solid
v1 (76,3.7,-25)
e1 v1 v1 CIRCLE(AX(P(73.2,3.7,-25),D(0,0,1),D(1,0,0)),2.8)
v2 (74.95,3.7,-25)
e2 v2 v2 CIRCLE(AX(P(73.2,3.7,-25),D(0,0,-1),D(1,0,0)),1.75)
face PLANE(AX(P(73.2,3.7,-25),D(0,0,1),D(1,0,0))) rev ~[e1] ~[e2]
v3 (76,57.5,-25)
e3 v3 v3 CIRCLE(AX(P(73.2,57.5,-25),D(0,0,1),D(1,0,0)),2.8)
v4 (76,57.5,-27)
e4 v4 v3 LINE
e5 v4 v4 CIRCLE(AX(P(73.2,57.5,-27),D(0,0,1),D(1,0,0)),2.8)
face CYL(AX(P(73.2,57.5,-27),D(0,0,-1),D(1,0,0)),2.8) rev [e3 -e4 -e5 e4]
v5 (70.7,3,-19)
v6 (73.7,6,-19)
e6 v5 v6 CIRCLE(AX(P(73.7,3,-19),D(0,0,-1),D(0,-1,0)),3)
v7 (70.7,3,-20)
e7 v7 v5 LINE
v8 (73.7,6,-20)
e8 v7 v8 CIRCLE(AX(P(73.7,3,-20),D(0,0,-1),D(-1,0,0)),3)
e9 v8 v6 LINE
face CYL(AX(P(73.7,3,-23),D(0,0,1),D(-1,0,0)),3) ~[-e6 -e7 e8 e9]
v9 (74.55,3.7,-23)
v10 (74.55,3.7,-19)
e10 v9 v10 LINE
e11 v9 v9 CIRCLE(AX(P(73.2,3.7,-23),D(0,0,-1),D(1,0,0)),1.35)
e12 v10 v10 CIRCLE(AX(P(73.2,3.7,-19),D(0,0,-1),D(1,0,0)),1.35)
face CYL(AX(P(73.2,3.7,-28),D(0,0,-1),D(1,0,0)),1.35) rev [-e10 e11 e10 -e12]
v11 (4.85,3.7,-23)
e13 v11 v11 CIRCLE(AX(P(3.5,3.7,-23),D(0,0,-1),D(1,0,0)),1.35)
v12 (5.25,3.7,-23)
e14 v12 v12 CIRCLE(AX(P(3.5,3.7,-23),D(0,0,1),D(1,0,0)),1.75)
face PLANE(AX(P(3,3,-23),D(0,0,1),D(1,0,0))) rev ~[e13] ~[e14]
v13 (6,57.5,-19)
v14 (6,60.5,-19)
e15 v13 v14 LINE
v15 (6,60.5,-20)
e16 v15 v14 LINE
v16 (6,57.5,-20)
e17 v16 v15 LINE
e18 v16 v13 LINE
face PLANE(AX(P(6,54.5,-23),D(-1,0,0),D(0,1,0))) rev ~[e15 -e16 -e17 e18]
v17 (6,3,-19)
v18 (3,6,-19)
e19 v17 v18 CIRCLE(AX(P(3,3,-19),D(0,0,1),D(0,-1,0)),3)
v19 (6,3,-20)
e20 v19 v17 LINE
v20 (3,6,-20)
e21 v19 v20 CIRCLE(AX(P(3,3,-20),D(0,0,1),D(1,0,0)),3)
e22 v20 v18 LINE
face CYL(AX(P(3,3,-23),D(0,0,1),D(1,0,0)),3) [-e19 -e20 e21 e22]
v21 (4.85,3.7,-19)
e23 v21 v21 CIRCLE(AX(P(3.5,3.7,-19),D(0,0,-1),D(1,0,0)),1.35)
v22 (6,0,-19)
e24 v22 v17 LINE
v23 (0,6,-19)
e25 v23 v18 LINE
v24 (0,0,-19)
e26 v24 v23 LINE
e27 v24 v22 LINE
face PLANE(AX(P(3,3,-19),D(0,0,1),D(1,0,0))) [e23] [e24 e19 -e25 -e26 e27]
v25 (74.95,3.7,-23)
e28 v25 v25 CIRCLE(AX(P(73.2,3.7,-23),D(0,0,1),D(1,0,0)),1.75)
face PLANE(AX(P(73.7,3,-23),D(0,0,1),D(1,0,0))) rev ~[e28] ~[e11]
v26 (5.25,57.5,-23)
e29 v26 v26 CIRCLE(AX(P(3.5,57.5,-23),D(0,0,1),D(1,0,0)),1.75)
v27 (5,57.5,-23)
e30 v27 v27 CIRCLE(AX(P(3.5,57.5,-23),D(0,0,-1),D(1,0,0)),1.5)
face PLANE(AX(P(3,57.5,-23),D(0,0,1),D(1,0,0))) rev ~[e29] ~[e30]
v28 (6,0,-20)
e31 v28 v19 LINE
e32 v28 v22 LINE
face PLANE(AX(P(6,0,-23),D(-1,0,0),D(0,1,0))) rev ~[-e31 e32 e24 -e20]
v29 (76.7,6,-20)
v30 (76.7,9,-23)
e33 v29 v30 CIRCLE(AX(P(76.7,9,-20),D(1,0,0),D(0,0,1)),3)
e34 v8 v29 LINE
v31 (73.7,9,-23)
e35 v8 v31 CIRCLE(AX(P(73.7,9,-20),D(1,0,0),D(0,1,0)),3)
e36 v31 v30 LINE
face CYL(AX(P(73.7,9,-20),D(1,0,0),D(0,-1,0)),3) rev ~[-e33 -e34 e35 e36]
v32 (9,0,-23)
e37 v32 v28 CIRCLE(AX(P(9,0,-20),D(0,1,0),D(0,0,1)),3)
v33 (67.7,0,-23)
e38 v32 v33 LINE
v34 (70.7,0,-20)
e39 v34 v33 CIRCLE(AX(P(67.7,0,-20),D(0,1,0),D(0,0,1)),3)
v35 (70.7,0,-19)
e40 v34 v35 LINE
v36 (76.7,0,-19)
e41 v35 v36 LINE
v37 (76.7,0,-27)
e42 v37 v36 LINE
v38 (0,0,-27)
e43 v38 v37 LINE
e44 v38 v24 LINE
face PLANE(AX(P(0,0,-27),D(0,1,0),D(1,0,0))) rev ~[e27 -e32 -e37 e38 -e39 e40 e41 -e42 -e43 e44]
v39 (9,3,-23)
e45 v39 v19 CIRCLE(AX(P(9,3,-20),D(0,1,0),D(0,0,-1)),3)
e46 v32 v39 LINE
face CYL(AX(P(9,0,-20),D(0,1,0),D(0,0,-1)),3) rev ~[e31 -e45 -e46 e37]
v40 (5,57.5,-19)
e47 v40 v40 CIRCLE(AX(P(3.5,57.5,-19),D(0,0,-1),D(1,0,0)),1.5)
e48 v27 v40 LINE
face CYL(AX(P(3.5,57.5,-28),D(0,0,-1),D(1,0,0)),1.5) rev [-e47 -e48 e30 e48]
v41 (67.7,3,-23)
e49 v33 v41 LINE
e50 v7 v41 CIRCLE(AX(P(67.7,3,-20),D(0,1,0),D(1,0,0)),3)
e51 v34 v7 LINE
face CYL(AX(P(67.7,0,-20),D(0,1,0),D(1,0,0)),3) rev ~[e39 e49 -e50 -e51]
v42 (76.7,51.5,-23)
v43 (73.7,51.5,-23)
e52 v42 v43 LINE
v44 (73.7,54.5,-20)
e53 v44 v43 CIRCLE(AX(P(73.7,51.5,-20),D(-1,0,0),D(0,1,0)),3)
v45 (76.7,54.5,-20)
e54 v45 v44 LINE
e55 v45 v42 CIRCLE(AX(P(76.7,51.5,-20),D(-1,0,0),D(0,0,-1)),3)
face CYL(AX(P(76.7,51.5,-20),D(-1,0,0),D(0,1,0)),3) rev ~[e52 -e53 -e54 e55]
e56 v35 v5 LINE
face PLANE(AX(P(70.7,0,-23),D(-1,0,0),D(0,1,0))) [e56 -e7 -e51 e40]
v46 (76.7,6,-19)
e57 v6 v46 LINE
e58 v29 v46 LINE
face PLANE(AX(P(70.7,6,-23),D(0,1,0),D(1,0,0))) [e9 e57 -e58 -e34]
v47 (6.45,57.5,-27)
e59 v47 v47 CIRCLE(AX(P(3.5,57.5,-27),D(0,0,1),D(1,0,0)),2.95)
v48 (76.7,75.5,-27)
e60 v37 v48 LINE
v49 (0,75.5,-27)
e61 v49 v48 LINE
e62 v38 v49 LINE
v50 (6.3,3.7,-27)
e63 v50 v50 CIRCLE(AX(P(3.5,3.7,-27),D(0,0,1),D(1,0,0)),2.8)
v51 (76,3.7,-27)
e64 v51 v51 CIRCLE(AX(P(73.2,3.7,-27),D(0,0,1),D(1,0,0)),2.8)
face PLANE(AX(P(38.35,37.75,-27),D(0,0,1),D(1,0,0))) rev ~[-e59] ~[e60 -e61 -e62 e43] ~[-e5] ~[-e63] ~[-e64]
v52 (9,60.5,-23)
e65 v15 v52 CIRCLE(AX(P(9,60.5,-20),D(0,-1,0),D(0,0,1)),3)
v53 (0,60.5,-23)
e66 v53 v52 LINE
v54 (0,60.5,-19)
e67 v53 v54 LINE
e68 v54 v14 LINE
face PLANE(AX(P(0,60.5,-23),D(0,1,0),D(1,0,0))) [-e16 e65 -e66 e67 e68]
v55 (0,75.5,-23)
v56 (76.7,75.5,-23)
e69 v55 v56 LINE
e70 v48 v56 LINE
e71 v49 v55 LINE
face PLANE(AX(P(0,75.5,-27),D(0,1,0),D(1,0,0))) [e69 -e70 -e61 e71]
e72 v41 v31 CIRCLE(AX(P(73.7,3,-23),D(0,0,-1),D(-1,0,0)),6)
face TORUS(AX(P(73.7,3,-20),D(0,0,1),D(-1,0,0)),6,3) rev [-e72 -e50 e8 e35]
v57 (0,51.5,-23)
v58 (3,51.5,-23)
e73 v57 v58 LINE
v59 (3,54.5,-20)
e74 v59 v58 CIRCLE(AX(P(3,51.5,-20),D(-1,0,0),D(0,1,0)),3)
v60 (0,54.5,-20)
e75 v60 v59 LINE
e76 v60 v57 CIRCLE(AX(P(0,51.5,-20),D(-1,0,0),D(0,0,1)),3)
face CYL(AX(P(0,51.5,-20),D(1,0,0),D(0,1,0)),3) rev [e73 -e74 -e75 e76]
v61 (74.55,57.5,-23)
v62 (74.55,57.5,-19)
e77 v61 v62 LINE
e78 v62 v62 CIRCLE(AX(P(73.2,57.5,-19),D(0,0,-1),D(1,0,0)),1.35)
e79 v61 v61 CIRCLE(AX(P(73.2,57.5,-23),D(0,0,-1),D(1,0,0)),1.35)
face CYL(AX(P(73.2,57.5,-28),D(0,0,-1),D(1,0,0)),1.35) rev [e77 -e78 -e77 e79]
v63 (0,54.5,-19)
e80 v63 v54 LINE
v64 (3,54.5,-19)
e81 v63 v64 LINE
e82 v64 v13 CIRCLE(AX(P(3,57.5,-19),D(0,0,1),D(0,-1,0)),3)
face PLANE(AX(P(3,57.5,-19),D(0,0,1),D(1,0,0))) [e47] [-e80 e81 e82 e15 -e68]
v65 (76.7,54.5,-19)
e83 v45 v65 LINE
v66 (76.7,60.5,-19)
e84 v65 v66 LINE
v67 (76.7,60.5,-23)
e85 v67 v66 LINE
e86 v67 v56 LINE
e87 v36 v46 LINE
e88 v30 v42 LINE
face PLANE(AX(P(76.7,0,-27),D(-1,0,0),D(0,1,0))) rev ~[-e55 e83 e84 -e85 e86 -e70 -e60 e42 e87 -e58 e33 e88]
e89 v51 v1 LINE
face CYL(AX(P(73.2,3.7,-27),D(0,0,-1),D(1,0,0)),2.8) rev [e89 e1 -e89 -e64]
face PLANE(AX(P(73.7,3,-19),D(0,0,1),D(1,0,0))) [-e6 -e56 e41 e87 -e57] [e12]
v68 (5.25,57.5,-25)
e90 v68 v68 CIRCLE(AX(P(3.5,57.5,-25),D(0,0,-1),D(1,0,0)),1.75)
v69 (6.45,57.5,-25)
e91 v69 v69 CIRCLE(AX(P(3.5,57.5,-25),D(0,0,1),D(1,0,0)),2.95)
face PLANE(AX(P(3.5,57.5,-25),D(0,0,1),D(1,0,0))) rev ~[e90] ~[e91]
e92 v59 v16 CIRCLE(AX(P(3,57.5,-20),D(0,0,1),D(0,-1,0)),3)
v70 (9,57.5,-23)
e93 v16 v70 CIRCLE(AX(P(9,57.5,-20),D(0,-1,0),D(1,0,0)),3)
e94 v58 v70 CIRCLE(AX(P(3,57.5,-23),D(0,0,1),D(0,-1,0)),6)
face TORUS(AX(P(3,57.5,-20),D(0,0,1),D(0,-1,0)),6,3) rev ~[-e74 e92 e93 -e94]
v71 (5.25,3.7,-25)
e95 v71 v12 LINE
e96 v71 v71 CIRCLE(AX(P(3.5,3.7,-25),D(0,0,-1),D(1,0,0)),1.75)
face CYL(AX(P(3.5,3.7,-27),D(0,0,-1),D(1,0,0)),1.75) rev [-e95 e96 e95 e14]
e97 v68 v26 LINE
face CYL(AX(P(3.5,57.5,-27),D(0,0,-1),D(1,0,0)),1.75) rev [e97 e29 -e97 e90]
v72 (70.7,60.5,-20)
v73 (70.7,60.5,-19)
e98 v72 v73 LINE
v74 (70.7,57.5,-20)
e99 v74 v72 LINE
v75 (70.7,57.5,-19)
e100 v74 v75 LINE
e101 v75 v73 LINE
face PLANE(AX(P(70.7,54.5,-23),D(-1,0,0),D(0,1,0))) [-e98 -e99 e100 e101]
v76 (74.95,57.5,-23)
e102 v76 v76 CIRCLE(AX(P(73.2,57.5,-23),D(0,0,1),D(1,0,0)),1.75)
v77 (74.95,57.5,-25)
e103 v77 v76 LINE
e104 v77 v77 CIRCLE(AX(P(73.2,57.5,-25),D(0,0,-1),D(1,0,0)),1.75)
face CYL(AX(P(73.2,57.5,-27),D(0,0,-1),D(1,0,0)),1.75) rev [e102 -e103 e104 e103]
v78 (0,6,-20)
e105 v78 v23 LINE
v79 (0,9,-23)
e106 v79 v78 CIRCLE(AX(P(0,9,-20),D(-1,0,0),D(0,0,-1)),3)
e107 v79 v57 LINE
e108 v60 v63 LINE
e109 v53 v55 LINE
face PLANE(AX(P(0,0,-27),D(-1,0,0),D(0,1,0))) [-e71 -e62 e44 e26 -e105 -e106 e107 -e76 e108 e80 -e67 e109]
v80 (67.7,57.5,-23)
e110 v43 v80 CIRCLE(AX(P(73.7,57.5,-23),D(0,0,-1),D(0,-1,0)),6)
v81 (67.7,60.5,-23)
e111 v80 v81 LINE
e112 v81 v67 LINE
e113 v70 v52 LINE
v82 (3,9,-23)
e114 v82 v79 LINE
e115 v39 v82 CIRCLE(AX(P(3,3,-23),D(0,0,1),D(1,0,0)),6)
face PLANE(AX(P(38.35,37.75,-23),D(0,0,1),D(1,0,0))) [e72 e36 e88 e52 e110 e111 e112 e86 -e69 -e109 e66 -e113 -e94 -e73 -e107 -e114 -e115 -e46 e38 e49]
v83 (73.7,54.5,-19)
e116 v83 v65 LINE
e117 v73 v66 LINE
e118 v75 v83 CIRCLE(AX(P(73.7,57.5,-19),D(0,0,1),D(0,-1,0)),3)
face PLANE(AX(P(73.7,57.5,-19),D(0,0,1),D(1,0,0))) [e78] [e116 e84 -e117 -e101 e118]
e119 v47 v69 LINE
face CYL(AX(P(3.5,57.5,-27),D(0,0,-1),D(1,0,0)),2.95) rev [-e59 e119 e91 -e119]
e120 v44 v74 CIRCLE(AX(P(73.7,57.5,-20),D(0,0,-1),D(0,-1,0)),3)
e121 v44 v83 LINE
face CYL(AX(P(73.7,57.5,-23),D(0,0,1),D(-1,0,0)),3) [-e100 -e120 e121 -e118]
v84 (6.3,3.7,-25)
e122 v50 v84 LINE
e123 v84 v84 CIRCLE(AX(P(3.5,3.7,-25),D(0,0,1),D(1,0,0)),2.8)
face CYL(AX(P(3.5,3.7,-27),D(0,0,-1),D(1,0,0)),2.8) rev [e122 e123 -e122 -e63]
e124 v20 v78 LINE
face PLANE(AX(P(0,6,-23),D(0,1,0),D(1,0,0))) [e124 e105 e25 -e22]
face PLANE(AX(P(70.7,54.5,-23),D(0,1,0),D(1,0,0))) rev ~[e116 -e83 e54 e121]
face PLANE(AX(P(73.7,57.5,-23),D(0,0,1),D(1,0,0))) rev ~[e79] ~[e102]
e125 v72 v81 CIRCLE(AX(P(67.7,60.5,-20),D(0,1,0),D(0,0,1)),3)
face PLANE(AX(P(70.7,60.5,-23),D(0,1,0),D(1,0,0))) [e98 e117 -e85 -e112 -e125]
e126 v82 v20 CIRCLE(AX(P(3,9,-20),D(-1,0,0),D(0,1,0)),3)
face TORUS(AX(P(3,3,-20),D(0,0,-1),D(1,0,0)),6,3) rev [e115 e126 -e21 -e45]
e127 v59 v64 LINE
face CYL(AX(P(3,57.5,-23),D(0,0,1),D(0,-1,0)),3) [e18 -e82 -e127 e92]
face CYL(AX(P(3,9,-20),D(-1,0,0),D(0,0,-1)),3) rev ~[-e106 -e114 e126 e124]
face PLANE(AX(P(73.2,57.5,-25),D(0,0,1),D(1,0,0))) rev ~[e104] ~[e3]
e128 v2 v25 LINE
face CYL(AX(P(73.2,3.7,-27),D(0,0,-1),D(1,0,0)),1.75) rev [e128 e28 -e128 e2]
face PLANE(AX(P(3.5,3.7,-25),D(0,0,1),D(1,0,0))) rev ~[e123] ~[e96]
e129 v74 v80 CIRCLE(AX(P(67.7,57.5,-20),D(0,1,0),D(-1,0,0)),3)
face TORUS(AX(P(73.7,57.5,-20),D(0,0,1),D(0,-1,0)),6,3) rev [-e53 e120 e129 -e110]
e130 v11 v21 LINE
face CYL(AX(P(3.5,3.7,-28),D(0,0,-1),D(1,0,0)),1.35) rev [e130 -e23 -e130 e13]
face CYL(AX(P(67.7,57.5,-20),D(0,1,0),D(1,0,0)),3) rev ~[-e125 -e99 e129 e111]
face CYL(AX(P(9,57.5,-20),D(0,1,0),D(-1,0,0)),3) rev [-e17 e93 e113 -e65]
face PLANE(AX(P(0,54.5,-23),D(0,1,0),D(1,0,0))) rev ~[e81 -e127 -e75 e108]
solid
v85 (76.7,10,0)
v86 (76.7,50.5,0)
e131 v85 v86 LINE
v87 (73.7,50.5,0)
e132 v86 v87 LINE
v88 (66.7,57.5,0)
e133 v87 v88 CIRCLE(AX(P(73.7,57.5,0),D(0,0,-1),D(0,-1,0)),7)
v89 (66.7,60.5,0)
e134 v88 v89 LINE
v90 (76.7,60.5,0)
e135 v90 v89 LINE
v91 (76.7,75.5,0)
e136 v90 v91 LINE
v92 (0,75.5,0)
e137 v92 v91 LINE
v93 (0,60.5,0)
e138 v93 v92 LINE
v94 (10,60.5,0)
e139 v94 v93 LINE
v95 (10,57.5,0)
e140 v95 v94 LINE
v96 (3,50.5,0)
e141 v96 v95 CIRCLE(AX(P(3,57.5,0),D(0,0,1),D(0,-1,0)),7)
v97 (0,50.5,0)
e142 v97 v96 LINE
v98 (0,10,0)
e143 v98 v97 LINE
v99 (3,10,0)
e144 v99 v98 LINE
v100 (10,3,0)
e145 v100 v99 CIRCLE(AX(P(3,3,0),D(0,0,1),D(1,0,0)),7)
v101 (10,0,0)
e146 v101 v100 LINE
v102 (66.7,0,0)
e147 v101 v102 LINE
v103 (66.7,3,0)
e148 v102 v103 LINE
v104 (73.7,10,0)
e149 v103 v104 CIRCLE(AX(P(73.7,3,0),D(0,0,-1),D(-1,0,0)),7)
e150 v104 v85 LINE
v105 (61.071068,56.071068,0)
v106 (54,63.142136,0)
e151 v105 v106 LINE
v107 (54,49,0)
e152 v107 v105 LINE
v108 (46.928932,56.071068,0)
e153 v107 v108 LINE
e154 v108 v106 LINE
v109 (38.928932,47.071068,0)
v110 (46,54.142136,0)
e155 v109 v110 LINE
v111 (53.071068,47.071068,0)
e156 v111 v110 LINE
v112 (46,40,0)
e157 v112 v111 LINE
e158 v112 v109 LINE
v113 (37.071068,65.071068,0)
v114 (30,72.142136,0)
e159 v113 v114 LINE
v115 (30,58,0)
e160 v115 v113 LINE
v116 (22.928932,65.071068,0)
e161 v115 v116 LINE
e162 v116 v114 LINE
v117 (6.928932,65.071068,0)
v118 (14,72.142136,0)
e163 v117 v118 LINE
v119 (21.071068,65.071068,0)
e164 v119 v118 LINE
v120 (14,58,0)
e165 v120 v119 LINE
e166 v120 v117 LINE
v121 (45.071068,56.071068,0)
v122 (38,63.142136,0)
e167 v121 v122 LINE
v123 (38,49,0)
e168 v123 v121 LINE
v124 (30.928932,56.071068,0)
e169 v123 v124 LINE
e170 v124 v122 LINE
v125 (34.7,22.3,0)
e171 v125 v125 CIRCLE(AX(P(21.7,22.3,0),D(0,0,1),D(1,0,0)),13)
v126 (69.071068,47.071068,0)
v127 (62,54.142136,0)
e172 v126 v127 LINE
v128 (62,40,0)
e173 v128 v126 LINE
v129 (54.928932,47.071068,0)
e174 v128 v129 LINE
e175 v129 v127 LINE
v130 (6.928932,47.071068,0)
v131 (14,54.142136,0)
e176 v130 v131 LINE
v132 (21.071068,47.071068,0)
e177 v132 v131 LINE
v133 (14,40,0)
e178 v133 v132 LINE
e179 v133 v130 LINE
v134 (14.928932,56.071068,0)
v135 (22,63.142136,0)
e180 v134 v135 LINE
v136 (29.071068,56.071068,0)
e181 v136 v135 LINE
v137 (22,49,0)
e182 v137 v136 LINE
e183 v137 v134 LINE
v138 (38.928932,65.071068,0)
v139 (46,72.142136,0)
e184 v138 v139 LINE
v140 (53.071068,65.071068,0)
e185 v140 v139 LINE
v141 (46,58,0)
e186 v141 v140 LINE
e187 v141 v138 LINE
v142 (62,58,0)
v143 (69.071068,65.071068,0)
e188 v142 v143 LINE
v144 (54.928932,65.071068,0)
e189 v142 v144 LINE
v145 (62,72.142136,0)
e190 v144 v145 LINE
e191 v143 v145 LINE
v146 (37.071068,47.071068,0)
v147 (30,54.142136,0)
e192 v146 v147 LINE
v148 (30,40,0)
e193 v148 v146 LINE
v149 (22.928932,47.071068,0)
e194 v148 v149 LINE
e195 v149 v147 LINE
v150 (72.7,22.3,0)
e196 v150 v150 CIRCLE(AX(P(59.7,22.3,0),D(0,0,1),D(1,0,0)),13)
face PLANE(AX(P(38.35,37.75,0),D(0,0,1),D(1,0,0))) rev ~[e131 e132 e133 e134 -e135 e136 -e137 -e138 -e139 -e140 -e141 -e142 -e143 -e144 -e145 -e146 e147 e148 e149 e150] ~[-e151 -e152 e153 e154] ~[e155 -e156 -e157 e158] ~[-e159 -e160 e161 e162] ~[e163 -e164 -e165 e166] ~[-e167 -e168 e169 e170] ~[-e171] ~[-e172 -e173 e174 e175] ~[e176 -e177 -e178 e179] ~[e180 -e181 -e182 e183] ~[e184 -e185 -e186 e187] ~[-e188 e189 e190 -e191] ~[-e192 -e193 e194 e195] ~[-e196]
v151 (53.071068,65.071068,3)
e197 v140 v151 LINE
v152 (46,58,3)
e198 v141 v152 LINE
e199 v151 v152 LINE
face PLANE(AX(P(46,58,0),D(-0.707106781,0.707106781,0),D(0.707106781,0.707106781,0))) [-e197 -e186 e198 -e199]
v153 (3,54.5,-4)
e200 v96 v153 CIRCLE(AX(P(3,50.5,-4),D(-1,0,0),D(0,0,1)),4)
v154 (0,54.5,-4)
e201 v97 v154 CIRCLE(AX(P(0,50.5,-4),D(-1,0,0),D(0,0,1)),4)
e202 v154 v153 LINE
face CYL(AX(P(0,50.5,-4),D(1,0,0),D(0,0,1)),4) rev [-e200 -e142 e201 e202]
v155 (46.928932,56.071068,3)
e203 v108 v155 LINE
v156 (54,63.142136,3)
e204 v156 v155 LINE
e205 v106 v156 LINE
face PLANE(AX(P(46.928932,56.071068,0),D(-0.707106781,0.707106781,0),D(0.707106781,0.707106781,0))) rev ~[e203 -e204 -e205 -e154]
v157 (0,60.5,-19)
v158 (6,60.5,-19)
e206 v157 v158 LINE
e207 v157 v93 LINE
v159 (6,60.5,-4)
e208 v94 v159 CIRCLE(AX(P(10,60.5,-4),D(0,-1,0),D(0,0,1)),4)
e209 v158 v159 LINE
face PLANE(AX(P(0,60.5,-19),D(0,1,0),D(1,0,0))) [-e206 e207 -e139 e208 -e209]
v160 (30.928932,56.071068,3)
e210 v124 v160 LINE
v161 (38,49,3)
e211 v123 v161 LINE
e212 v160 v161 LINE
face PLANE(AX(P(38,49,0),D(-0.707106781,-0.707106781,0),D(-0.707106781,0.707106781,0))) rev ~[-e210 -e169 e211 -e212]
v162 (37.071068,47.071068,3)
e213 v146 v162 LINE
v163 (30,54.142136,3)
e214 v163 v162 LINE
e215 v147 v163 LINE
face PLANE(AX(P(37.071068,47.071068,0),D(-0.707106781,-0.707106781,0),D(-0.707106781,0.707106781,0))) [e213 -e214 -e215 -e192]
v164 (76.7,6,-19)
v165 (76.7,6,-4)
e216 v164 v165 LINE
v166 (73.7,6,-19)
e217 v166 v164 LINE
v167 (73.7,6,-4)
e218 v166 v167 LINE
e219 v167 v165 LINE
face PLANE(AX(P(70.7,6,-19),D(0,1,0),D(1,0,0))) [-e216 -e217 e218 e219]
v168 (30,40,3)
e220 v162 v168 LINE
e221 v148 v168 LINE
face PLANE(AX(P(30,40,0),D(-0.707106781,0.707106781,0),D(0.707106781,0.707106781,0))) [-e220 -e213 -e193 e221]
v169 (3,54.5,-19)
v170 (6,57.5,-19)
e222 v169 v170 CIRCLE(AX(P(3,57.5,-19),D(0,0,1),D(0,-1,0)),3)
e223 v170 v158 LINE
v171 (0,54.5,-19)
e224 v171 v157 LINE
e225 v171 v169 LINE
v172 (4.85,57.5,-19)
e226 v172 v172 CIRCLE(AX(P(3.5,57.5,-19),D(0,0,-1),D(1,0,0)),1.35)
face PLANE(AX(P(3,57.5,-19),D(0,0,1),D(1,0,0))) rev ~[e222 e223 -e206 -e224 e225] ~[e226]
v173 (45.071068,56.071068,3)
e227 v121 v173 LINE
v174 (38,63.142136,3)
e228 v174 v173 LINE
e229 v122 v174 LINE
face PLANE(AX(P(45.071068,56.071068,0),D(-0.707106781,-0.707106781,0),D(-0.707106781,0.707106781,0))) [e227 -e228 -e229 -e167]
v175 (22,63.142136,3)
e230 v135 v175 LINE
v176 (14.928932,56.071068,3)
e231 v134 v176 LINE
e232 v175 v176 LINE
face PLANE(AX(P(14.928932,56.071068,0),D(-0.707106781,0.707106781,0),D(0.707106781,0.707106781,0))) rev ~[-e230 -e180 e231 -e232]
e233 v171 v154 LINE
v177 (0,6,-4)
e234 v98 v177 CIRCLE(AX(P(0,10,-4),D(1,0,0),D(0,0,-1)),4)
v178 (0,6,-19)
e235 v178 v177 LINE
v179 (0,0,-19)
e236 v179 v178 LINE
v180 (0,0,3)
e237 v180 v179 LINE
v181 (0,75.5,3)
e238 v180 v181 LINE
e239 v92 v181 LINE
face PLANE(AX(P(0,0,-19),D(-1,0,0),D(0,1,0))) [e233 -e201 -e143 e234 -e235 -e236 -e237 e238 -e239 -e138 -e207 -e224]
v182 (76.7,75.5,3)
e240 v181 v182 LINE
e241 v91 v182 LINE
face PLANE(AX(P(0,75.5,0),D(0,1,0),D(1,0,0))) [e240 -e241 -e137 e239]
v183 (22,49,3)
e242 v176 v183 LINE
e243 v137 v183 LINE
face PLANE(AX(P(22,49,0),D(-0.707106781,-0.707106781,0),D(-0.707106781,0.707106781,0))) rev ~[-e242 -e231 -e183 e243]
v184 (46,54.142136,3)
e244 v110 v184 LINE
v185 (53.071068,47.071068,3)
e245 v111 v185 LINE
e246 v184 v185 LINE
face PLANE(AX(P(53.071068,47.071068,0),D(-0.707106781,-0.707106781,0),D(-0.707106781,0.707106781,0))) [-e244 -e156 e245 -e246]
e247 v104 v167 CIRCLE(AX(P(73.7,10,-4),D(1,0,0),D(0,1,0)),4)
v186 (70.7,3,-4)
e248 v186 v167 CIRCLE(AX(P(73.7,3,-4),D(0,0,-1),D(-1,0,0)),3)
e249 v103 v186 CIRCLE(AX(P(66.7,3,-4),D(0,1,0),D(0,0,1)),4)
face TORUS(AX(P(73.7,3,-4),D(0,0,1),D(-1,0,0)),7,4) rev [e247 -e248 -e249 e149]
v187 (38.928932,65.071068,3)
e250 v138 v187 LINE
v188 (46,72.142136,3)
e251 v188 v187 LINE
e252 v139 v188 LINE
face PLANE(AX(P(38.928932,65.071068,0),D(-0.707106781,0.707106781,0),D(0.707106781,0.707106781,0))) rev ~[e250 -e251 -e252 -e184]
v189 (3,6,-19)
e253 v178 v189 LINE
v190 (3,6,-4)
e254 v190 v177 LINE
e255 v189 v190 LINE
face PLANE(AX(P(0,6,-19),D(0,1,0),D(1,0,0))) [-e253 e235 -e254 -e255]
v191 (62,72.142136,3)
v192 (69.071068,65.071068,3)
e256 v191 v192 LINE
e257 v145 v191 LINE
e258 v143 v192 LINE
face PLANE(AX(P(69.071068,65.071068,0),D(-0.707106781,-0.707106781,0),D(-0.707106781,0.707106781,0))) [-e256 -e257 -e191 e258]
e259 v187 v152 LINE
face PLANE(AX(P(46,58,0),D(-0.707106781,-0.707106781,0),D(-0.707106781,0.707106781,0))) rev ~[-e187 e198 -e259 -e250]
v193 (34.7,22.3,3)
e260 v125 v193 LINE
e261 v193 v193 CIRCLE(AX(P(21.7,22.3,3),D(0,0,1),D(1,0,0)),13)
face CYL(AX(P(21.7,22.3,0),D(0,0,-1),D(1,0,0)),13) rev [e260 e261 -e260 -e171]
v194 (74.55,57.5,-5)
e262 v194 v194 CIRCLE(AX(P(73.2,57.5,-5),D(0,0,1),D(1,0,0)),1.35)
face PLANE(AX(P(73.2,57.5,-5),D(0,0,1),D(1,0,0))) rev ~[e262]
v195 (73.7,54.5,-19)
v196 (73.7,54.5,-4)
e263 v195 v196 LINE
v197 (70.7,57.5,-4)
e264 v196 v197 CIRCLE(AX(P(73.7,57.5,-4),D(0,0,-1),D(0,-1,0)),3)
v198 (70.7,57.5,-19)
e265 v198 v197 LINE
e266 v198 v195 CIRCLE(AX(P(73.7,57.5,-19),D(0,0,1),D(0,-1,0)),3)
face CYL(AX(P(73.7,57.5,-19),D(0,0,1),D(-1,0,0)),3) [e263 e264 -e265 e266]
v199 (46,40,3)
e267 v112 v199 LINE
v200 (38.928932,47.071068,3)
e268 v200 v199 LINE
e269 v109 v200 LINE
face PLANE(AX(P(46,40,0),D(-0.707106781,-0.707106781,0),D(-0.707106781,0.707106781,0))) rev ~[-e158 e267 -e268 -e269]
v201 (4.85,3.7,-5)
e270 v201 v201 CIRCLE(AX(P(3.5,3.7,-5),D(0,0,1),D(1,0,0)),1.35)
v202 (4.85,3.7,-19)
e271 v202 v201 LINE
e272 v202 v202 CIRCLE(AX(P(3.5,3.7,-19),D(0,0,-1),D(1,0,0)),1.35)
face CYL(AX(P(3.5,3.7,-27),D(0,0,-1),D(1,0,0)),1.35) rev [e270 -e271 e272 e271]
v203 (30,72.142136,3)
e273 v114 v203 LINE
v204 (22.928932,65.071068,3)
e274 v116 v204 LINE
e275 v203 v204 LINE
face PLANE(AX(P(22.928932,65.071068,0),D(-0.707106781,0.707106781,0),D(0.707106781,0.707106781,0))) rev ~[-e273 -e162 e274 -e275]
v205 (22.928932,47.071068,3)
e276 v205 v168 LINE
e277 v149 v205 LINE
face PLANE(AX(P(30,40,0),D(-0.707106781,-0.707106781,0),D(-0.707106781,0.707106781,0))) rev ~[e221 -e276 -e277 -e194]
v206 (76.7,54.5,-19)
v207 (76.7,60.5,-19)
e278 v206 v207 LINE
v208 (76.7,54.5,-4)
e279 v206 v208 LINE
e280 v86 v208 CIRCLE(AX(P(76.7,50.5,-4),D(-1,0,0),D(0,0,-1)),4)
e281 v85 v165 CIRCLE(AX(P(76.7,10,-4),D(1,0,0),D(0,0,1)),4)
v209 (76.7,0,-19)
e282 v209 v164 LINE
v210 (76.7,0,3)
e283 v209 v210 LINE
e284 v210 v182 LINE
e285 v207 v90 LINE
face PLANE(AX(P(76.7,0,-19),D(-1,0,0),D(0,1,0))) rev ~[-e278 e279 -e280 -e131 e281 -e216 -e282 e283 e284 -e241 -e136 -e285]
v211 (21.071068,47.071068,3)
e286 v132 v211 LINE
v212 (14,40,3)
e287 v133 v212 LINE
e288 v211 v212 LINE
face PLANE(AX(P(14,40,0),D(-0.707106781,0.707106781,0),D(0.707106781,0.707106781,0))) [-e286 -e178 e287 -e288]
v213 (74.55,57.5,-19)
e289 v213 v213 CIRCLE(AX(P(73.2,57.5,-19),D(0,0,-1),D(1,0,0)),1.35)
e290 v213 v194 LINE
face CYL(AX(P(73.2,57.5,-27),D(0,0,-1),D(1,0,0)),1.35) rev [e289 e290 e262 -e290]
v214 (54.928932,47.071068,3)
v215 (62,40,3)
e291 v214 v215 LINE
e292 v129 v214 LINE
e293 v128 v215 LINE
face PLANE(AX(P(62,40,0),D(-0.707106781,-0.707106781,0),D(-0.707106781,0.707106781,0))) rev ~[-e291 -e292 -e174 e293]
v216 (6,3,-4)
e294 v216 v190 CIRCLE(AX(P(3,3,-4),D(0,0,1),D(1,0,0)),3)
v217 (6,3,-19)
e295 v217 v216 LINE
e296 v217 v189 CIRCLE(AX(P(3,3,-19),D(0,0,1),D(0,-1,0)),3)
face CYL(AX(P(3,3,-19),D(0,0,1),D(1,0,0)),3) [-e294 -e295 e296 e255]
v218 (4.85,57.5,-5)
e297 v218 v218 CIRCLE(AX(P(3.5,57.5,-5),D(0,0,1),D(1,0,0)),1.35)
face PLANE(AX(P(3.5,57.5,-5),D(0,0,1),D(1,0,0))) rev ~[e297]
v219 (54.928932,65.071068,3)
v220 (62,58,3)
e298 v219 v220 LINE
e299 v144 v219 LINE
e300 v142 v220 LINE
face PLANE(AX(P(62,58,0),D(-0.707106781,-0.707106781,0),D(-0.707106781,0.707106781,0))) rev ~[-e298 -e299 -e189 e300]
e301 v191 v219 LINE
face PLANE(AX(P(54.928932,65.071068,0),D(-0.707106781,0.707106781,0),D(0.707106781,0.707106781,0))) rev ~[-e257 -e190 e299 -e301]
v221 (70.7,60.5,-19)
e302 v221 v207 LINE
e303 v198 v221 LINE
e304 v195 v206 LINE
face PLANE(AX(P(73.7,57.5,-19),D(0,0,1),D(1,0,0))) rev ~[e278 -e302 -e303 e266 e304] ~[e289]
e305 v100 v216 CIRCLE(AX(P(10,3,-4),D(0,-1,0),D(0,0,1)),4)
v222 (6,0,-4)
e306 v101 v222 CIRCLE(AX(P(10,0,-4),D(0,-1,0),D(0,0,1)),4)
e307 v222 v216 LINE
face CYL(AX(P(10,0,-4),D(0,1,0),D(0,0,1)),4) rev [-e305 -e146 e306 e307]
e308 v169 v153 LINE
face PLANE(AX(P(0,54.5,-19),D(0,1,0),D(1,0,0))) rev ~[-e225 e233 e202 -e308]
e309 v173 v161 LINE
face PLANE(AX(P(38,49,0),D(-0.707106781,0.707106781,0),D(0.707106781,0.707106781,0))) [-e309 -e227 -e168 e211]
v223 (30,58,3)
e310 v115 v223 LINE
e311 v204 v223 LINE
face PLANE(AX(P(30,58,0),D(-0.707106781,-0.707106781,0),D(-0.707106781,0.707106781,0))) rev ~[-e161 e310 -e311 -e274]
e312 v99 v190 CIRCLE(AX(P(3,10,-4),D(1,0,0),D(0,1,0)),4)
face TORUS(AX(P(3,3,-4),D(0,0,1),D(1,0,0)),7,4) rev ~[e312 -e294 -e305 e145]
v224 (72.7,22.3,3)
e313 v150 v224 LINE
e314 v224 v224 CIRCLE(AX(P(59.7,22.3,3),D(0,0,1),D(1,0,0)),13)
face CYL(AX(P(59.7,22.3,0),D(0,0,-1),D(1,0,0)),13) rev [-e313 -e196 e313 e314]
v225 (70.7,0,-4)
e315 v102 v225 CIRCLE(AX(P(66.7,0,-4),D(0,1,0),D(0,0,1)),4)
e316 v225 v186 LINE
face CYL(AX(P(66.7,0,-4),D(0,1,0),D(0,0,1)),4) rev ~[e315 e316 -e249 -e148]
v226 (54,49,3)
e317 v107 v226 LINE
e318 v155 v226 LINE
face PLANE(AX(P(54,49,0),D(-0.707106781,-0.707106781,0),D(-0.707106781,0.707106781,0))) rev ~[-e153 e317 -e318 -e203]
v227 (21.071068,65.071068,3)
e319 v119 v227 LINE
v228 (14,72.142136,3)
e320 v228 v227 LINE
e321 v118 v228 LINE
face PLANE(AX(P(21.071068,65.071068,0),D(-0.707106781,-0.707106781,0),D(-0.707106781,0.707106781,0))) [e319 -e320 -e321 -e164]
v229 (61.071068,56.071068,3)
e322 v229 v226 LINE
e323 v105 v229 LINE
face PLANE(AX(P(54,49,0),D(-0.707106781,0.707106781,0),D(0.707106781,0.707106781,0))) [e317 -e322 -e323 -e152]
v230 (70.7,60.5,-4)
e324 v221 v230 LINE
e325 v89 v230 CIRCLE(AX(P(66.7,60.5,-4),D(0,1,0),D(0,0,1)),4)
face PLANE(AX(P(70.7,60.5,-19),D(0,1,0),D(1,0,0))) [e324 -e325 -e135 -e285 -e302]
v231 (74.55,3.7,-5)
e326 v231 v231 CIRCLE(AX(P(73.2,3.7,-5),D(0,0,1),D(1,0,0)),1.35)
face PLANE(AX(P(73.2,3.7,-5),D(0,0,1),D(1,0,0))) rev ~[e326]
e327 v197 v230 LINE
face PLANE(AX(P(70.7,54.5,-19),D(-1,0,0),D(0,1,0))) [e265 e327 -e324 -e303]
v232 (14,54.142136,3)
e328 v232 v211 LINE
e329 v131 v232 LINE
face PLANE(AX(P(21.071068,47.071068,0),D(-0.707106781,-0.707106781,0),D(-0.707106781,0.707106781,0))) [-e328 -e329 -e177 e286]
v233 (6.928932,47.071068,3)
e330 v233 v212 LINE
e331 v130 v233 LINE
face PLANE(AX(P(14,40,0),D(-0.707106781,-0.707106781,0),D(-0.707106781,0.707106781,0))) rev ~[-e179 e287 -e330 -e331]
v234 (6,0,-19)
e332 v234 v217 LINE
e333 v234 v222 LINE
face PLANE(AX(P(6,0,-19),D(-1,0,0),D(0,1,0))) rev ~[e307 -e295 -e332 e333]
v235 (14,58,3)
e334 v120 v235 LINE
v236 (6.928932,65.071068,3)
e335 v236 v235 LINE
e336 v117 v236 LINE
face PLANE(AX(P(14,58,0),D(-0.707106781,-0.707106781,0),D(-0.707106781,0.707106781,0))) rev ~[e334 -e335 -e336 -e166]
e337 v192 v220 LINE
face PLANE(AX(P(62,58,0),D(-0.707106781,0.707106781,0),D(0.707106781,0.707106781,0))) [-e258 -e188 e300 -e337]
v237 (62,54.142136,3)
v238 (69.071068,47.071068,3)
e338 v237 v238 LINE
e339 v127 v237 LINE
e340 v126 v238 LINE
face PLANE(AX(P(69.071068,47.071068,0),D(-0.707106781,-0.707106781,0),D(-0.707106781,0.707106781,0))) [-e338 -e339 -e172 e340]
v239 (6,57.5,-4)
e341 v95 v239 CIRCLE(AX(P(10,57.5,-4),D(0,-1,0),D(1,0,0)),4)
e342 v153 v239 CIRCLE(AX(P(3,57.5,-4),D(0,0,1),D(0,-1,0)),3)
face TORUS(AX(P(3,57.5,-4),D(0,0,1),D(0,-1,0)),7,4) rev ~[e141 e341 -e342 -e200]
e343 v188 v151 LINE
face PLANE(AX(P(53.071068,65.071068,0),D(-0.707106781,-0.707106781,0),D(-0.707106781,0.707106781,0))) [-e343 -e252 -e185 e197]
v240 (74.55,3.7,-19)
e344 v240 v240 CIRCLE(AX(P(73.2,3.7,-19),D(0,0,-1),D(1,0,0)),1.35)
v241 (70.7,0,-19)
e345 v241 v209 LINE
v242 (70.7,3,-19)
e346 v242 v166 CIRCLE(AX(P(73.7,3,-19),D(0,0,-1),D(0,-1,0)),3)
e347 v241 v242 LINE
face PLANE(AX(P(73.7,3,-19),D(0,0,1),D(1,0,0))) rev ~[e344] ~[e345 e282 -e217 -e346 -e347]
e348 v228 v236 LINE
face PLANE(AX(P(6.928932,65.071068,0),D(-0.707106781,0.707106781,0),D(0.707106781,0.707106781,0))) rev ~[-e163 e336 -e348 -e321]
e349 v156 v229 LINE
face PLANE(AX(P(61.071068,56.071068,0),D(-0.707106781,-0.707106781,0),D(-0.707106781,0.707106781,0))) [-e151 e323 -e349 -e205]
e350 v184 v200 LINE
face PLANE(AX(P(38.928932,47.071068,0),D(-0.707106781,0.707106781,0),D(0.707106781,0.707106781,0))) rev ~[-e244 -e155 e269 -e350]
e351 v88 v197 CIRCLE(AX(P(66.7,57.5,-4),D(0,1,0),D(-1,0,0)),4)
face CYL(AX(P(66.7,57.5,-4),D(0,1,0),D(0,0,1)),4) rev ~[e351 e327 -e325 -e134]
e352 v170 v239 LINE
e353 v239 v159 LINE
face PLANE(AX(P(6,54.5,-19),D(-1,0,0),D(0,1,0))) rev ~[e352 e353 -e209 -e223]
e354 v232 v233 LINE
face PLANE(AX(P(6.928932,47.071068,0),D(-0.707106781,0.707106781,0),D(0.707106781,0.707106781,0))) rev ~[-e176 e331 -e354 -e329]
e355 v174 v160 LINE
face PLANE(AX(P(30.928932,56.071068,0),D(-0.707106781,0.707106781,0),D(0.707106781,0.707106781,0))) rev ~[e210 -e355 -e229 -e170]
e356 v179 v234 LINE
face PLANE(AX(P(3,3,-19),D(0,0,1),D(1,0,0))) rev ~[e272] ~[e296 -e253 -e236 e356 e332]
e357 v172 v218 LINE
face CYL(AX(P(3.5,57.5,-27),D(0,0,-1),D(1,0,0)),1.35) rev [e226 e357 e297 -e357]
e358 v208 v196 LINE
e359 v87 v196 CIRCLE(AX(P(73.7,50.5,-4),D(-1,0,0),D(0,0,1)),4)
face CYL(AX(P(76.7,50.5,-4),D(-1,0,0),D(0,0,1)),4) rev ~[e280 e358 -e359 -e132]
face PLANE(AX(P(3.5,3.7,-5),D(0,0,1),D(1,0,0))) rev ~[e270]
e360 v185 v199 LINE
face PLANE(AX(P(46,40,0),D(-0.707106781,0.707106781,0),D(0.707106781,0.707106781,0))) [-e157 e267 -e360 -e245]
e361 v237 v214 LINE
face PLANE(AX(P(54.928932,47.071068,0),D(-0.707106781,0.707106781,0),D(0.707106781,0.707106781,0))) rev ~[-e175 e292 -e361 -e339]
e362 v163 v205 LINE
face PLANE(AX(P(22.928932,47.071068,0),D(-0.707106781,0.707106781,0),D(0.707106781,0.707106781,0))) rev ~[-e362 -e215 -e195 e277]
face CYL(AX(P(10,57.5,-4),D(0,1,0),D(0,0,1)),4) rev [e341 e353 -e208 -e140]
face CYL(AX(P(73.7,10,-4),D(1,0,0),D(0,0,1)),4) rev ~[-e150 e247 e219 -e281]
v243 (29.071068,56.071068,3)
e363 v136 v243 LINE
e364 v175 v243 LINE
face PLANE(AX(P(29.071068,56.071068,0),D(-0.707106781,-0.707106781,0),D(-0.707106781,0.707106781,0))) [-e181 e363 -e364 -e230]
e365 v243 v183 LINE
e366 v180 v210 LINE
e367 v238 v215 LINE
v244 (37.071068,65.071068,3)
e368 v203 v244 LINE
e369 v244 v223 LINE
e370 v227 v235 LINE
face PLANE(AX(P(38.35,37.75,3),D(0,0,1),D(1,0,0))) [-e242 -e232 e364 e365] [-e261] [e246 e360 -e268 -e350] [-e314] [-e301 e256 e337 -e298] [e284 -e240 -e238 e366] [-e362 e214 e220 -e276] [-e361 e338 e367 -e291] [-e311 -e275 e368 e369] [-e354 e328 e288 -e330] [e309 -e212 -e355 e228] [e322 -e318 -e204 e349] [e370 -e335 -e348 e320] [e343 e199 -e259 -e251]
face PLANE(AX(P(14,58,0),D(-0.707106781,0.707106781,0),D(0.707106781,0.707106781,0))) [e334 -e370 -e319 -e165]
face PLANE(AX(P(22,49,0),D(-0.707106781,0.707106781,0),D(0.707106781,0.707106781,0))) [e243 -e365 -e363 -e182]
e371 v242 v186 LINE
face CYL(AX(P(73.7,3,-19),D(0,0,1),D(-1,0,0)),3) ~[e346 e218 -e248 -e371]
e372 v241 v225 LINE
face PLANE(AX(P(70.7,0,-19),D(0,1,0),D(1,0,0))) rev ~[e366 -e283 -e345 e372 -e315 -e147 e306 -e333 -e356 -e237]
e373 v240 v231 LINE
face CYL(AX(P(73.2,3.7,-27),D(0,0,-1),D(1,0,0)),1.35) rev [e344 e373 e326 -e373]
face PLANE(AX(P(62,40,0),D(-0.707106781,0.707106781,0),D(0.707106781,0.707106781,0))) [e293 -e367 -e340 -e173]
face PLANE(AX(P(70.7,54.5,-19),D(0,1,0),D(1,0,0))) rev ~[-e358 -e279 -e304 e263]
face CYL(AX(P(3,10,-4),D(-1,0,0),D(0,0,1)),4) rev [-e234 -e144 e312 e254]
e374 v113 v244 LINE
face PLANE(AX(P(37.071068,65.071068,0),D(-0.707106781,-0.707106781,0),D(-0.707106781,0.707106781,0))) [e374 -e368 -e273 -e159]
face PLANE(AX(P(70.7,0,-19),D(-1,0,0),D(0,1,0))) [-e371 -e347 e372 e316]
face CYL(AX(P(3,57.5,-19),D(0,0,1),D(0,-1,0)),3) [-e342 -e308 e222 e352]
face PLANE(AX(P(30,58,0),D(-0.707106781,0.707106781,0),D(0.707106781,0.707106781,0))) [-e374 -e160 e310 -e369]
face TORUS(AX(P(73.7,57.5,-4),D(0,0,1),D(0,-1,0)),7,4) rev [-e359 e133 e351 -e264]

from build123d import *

# Parameters (mm, degrees)
CYLINDER011_R          = 2.95
CYLINDER011_DEPTH      = 2
CYLINDER004_R          = 1.5
CYLINDER004_DEPTH      = 22
CYLINDER007_R          = 1.35
CYLINDER007_DEPTH      = 22
CYLINDER010_R          = 2.8
CYLINDER010_DEPTH      = 2
CYLINDER006_R          = 1.35
CYLINDER006_DEPTH      = 22
CYLINDER009_R          = 2.8
CYLINDER009_DEPTH      = 2
CYLINDER008_R          = 2.8
CYLINDER008_DEPTH      = 2
CYLINDER005_R          = 1.35
CYLINDER005_DEPTH      = 22
BOX007_W               = 6
BOX007_H               = 6
BOX007_DEPTH           = 4
FILLET006_R            = 3
BOX004_W               = 6
BOX004_H               = 6
BOX004_DEPTH           = 4
FILLET007_R            = 3
BOX006_W               = 6
BOX006_H               = 6
BOX006_DEPTH           = 4
FILLET008_R            = 3
SKETCH004_W            = 76.7
SKETCH004_H            = 75.5
SKETCH004_R            = 1.75
EXTRUDE004_DEPTH       = 4
BOX005_W               = 6
BOX005_H               = 6
BOX005_DEPTH           = 4
FILLET005_R            = 3
FILLET009_R            = 3
BOX009_W               = 10
BOX009_H               = 10
BOX009_DEPTH           = 10
BOX009_PLACEMENT_ANGLE = 45
BOX010_W               = 10
BOX010_H               = 10
BOX010_DEPTH           = 10
BOX010_PLACEMENT_ANGLE = 45
BOX011_W               = 10
BOX011_H               = 10
BOX011_DEPTH           = 10
BOX011_PLACEMENT_ANGLE = 45
BOX012_W               = 10
BOX012_H               = 10
BOX012_DEPTH           = 10
BOX012_PLACEMENT_ANGLE = 45
BOX013_W               = 10
BOX013_H               = 10
BOX013_DEPTH           = 10
BOX013_PLACEMENT_ANGLE = 45
BOX014_W               = 10
BOX014_H               = 10
BOX014_DEPTH           = 10
BOX014_PLACEMENT_ANGLE = 45
BOX015_W               = 10
BOX015_H               = 10
BOX015_DEPTH           = 10
BOX015_PLACEMENT_ANGLE = 45
BOX016_W               = 10
BOX016_H               = 10
BOX016_DEPTH           = 10
BOX016_PLACEMENT_ANGLE = 45
BOX017_W               = 10
BOX017_H               = 10
BOX017_DEPTH           = 10
BOX017_PLACEMENT_ANGLE = 45
BOX018_W               = 10
BOX018_H               = 10
BOX018_DEPTH           = 10
BOX018_PLACEMENT_ANGLE = 45
BOX008_W               = 10
BOX008_H               = 10
BOX008_DEPTH           = 10
BOX008_PLACEMENT_ANGLE = 45
CYLINDER_R             = 1.35
CYLINDER_DEPTH         = 22
CYLINDER001_R          = 1.35
CYLINDER001_DEPTH      = 22
CYLINDER002_R          = 1.35
CYLINDER002_DEPTH      = 22
CYLINDER003_R          = 1.35
CYLINDER003_DEPTH      = 22
BOX003_W               = 6
BOX003_H               = 6
BOX003_DEPTH           = 19
FILLET_R               = 3
BOX002_W               = 6
BOX002_H               = 6
BOX002_DEPTH           = 19
FILLET001_R            = 3
BOX_W                  = 6
BOX_H                  = 6
BOX_DEPTH              = 19
FILLET002_R            = 3
BOX001_W               = 6
BOX001_H               = 6
BOX001_DEPTH           = 19
FILLET003_R            = 3
SKETCH_W               = 76.7
SKETCH_H               = 75.5
SKETCH_R               = 13
EXTRUDE_DEPTH          = 3
FILLET004_R            = 4


with BuildPart() as unthreaded_screw_head003:
    # Cylinder011 → Cylinder011 (new body)
    with BuildSketch(Plane(origin=(3.5, 57.5, -27), x_dir=(1, 0, 0), z_dir=(0, 0, 1))):
        Circle(CYLINDER011_R)
    extrude(amount=CYLINDER011_DEPTH)


with BuildPart() as screw_slip_through4:
    # Cylinder004 → Cylinder004 (new body)
    with BuildSketch(Plane(origin=(3.5, 57.5, -28), x_dir=(1, 0, 0), z_dir=(0, 0, 1))):
        Circle(CYLINDER004_R)
    extrude(amount=CYLINDER004_DEPTH)

    # Fusion005: union unthreaded-screw-head003
    add(unthreaded_screw_head003.part)


with BuildPart() as unthreaded_cutout4:
    # Cylinder007 → Cylinder007 (new body)
    with BuildSketch(Plane(origin=(73.2, 57.5, -28), x_dir=(1, 0, 0), z_dir=(0, 0, 1))):
        Circle(CYLINDER007_R)
    extrude(amount=CYLINDER007_DEPTH)


with BuildPart() as screw_slip_through3:
    # Cylinder010 → Cylinder010 (new body)
    with BuildSketch(Plane(origin=(73.2, 57.5, -27), x_dir=(1, 0, 0), z_dir=(0, 0, 1))):
        Circle(CYLINDER010_R)
    extrude(amount=CYLINDER010_DEPTH)

    # Fusion004: union unthreaded-cutout4
    add(unthreaded_cutout4.part)


with BuildPart() as unthreaded_cutout3:
    # Cylinder006 → Cylinder006 (new body)
    with BuildSketch(Plane(origin=(73.2, 3.7, -28), x_dir=(1, 0, 0), z_dir=(0, 0, 1))):
        Circle(CYLINDER006_R)
    extrude(amount=CYLINDER006_DEPTH)


with BuildPart() as screw_slip_through2:
    # Cylinder009 → Cylinder009 (new body)
    with BuildSketch(Plane(origin=(73.2, 3.7, -27), x_dir=(1, 0, 0), z_dir=(0, 0, 1))):
        Circle(CYLINDER009_R)
    extrude(amount=CYLINDER009_DEPTH)

    # Fusion003: union unthreaded-cutout3
    add(unthreaded_cutout3.part)


with BuildPart() as unthreaded_screw_head:
    # Cylinder008 → Cylinder008 (new body)
    with BuildSketch(Plane(origin=(3.5, 3.7, -27), x_dir=(1, 0, 0), z_dir=(0, 0, 1))):
        Circle(CYLINDER008_R)
    extrude(amount=CYLINDER008_DEPTH)


with BuildPart() as screw_slip_through1:
    # Cylinder005 → Cylinder005 (new body)
    with BuildSketch(Plane(origin=(3.5, 3.7, -28), x_dir=(1, 0, 0), z_dir=(0, 0, 1))):
        Circle(CYLINDER005_R)
    extrude(amount=CYLINDER005_DEPTH)

    # Fusion002: union unthreaded-screw-head
    add(unthreaded_screw_head.part)


with BuildPart() as roundedpost006:
    # Box007 → Box007 (new body)
    with BuildSketch(Plane(origin=(0, 54.5, -23), x_dir=(1, 0, 0), z_dir=(0, 0, 1))):
        with Locations((3, 3)):
            Rectangle(BOX007_W, BOX007_H)
    extrude(amount=BOX007_DEPTH)

    # Fillet006
    fillet006_edges = [roundedpost006.edges().sort_by_distance(p)[0] for p in [
        (6, 54.5, -21),
    ]]
    fillet(fillet006_edges, radius=FILLET006_R)


with BuildPart() as roundedpost007:
    # Box004 → Box004 (new body)
    with BuildSketch(Plane(origin=(70.7, 54.5, -23), x_dir=(1, 0, 0), z_dir=(0, 0, 1))):
        with Locations((3, 3)):
            Rectangle(BOX004_W, BOX004_H)
    extrude(amount=BOX004_DEPTH)

    # Fillet007
    fillet007_edges = [roundedpost007.edges().sort_by_distance(p)[0] for p in [
        (70.7, 54.5, -21),
    ]]
    fillet(fillet007_edges, radius=FILLET007_R)


with BuildPart() as roundedpost008:
    # Box006 → Box006 (new body)
    with BuildSketch(Plane(origin=(70.7, 0, -23), x_dir=(1, 0, 0), z_dir=(0, 0, 1))):
        with Locations((3, 3)):
            Rectangle(BOX006_W, BOX006_H)
    extrude(amount=BOX006_DEPTH)

    # Fillet008
    fillet008_edges = [roundedpost008.edges().sort_by_distance(p)[0] for p in [
        (70.7, 6, -21),
    ]]
    fillet(fillet008_edges, radius=FILLET008_R)


with BuildPart() as bottom_plate:
    # Sketch004 → Extrude004 (new body)
    with BuildSketch(Plane.XY):
        with Locations((38.35, 37.75)):
            Rectangle(SKETCH004_W, SKETCH004_H)
        with Locations((3.5, 3.7)):
            Circle(SKETCH004_R, mode=Mode.SUBTRACT)
        with Locations((73.2, 3.7)):
            Circle(SKETCH004_R, mode=Mode.SUBTRACT)
        with Locations((3.5, 57.5)):
            Circle(SKETCH004_R, mode=Mode.SUBTRACT)
        with Locations((73.2, 57.5)):
            Circle(SKETCH004_R, mode=Mode.SUBTRACT)
    extrude(amount=EXTRUDE004_DEPTH)


with BuildPart() as bottom_plate_1:
    # Extrude004 placement: moved
    add(bottom_plate.part.moved(Location((0, 0, -27))))


with BuildPart() as bottom_plate_complete:
    # Box005 → Box005 (new body)
    with BuildSketch(Plane.XY.offset(-23)):
        with Locations((3, 3)):
            Rectangle(BOX005_W, BOX005_H)
    extrude(amount=BOX005_DEPTH)

    # Fillet005
    fillet005_edges = [bottom_plate_complete.edges().sort_by_distance(p)[0] for p in [
        (6, 6, -21),
    ]]
    fillet(fillet005_edges, radius=FILLET005_R)

    # Fusion001: union roundedpost006, roundedpost007, roundedpost008, bottom-plate
    add(roundedpost006.part)
    add(roundedpost007.part)
    add(roundedpost008.part)
    add(bottom_plate_1.part)

    # Fillet009
    fillet009_edges = [bottom_plate_complete.edges().sort_by_distance(p)[0] for p in [
        (6, 1.5, -23),
        (5.12132, 5.12132, -23),
        (1.5, 6, -23),
        (1.5, 54.5, -23),
        (5.12132, 55.37868, -23),
        (6, 59, -23),
        (70.7, 59, -23),
        (71.57868, 55.37868, -23),
        (75.2, 54.5, -23),
        (75.2, 6, -23),
        (71.57868, 5.12132, -23),
        (70.7, 1.5, -23),
    ]]
    fillet(fillet009_edges, radius=FILLET009_R)

    # Cut004: cut screw-slip-through1
    add(screw_slip_through1.part, mode=Mode.SUBTRACT)

    # Cut005: cut screw-slip-through2
    add(screw_slip_through2.part, mode=Mode.SUBTRACT)

    # Cut006: cut screw-slip-through3
    add(screw_slip_through3.part, mode=Mode.SUBTRACT)

    # Cut007: cut screw-slip-through4
    add(screw_slip_through4.part, mode=Mode.SUBTRACT)


with BuildPart() as cube001:
    # Box009 → Box009 (new body)
    with BuildSketch(Plane.XY):
        with Locations((5, 5)):
            Rectangle(BOX009_W, BOX009_H)
    extrude(amount=BOX009_DEPTH)


with BuildPart() as cube001_1:
    # Box009 placement: moved
    add(cube001.part.moved(Location((30, 40, 0))).rotate(Axis((30, 40, 0), (0, 0, 1)), BOX009_PLACEMENT_ANGLE))


with BuildPart() as cube002:
    # Box010 → Box010 (new body)
    with BuildSketch(Plane.XY):
        with Locations((5, 5)):
            Rectangle(BOX010_W, BOX010_H)
    extrude(amount=BOX010_DEPTH)


with BuildPart() as cube002_1:
    # Box010 placement: moved
    add(cube002.part.moved(Location((62, 40, 0))).rotate(Axis((62, 40, 0), (0, 0, 1)), BOX010_PLACEMENT_ANGLE))


with BuildPart() as cube003:
    # Box011 → Box011 (new body)
    with BuildSketch(Plane.XY):
        with Locations((5, 5)):
            Rectangle(BOX011_W, BOX011_H)
    extrude(amount=BOX011_DEPTH)


with BuildPart() as cube003_1:
    # Box011 placement: moved
    add(cube003.part.moved(Location((46, 40, 0))).rotate(Axis((46, 40, 0), (0, 0, 1)), BOX011_PLACEMENT_ANGLE))


with BuildPart() as cube004:
    # Box012 → Box012 (new body)
    with BuildSketch(Plane.XY):
        with Locations((5, 5)):
            Rectangle(BOX012_W, BOX012_H)
    extrude(amount=BOX012_DEPTH)


with BuildPart() as cube004_1:
    # Box012 placement: moved
    add(cube004.part.moved(Location((22, 49, 0))).rotate(Axis((22, 49, 0), (0, 0, 1)), BOX012_PLACEMENT_ANGLE))


with BuildPart() as cube005:
    # Box013 → Box013 (new body)
    with BuildSketch(Plane.XY):
        with Locations((5, 5)):
            Rectangle(BOX013_W, BOX013_H)
    extrude(amount=BOX013_DEPTH)


with BuildPart() as cube005_1:
    # Box013 placement: moved
    add(cube005.part.moved(Location((38, 49, 0))).rotate(Axis((38, 49, 0), (0, 0, 1)), BOX013_PLACEMENT_ANGLE))


with BuildPart() as cube006:
    # Box014 → Box014 (new body)
    with BuildSketch(Plane.XY):
        with Locations((5, 5)):
            Rectangle(BOX014_W, BOX014_H)
    extrude(amount=BOX014_DEPTH)


with BuildPart() as cube006_1:
    # Box014 placement: moved
    add(cube006.part.moved(Location((54, 49, 0))).rotate(Axis((54, 49, 0), (0, 0, 1)), BOX014_PLACEMENT_ANGLE))


with BuildPart() as cube007:
    # Box015 → Box015 (new body)
    with BuildSketch(Plane.XY):
        with Locations((5, 5)):
            Rectangle(BOX015_W, BOX015_H)
    extrude(amount=BOX015_DEPTH)


with BuildPart() as cube007_1:
    # Box015 placement: moved
    add(cube007.part.moved(Location((14, 58, 0))).rotate(Axis((14, 58, 0), (0, 0, 1)), BOX015_PLACEMENT_ANGLE))


with BuildPart() as cube008:
    # Box016 → Box016 (new body)
    with BuildSketch(Plane.XY):
        with Locations((5, 5)):
            Rectangle(BOX016_W, BOX016_H)
    extrude(amount=BOX016_DEPTH)


with BuildPart() as cube008_1:
    # Box016 placement: moved
    add(cube008.part.moved(Location((30, 58, 0))).rotate(Axis((30, 58, 0), (0, 0, 1)), BOX016_PLACEMENT_ANGLE))


with BuildPart() as cube009:
    # Box017 → Box017 (new body)
    with BuildSketch(Plane.XY):
        with Locations((5, 5)):
            Rectangle(BOX017_W, BOX017_H)
    extrude(amount=BOX017_DEPTH)


with BuildPart() as cube009_1:
    # Box017 placement: moved
    add(cube009.part.moved(Location((62, 58, 0))).rotate(Axis((62, 58, 0), (0, 0, 1)), BOX017_PLACEMENT_ANGLE))


with BuildPart() as cube010:
    # Box018 → Box018 (new body)
    with BuildSketch(Plane.XY):
        with Locations((5, 5)):
            Rectangle(BOX018_W, BOX018_H)
    extrude(amount=BOX018_DEPTH)


with BuildPart() as cube010_1:
    # Box018 placement: moved
    add(cube010.part.moved(Location((46, 58, 0))).rotate(Axis((46, 58, 0), (0, 0, 1)), BOX018_PLACEMENT_ANGLE))


with BuildPart() as decorator_cutout:
    # Box008 → Box008 (new body)
    with BuildSketch(Plane.XY):
        with Locations((5, 5)):
            Rectangle(BOX008_W, BOX008_H)
    extrude(amount=BOX008_DEPTH)


with BuildPart() as decorator_cutout_1:
    # Box008 placement: moved
    add(decorator_cutout.part.moved(Location((14, 40, 0))).rotate(Axis((14, 40, 0), (0, 0, 1)), BOX008_PLACEMENT_ANGLE))

    # Fusion006: union Cube001, Cube002, Cube003, Cube004, Cube005, Cube006, Cube007, Cube008, Cube009, Cube010
    add(cube001_1.part)
    add(cube002_1.part)
    add(cube003_1.part)
    add(cube004_1.part)
    add(cube005_1.part)
    add(cube006_1.part)
    add(cube007_1.part)
    add(cube008_1.part)
    add(cube009_1.part)
    add(cube010_1.part)


with BuildPart() as threaded_cutout:
    # Cylinder → Cylinder (new body)
    with BuildSketch(Plane(origin=(3.5, 3.7, -27), x_dir=(1, 0, 0), z_dir=(0, 0, 1))):
        Circle(CYLINDER_R)
    extrude(amount=CYLINDER_DEPTH)


with BuildPart() as threaded_cutout001:
    # Cylinder001 → Cylinder001 (new body)
    with BuildSketch(Plane(origin=(73.2, 3.7, -27), x_dir=(1, 0, 0), z_dir=(0, 0, 1))):
        Circle(CYLINDER001_R)
    extrude(amount=CYLINDER001_DEPTH)


with BuildPart() as threaded_cutout002:
    # Cylinder002 → Cylinder002 (new body)
    with BuildSketch(Plane(origin=(73.2, 57.5, -27), x_dir=(1, 0, 0), z_dir=(0, 0, 1))):
        Circle(CYLINDER002_R)
    extrude(amount=CYLINDER002_DEPTH)


with BuildPart() as threaded_cutout003:
    # Cylinder003 → Cylinder003 (new body)
    with BuildSketch(Plane(origin=(3.5, 57.5, -27), x_dir=(1, 0, 0), z_dir=(0, 0, 1))):
        Circle(CYLINDER003_R)
    extrude(amount=CYLINDER003_DEPTH)


with BuildPart() as roundedpost1:
    # Box003 → Box003 (new body)
    with BuildSketch(Plane(origin=(0, 54.5, -19), x_dir=(1, 0, 0), z_dir=(0, 0, 1))):
        with Locations((3, 3)):
            Rectangle(BOX003_W, BOX003_H)
    extrude(amount=BOX003_DEPTH)

    # Fillet
    fillet_edges = [roundedpost1.edges().sort_by_distance(p)[0] for p in [
        (6, 54.5, -9.5),
    ]]
    fillet(fillet_edges, radius=FILLET_R)


with BuildPart() as roundedpost2:
    # Box002 → Box002 (new body)
    with BuildSketch(Plane(origin=(70.7, 54.5, -19), x_dir=(1, 0, 0), z_dir=(0, 0, 1))):
        with Locations((3, 3)):
            Rectangle(BOX002_W, BOX002_H)
    extrude(amount=BOX002_DEPTH)

    # Fillet001
    fillet001_edges = [roundedpost2.edges().sort_by_distance(p)[0] for p in [
        (70.7, 54.5, -9.5),
    ]]
    fillet(fillet001_edges, radius=FILLET001_R)


with BuildPart() as roundedpost3:
    # Box → Box (new body)
    with BuildSketch(Plane.XY.offset(-19)):
        with Locations((3, 3)):
            Rectangle(BOX_W, BOX_H)
    extrude(amount=BOX_DEPTH)

    # Fillet002
    fillet002_edges = [roundedpost3.edges().sort_by_distance(p)[0] for p in [
        (6, 6, -9.5),
    ]]
    fillet(fillet002_edges, radius=FILLET002_R)


with BuildPart() as roundedpost4:
    # Box001 → Box001 (new body)
    with BuildSketch(Plane(origin=(70.7, 0, -19), x_dir=(1, 0, 0), z_dir=(0, 0, 1))):
        with Locations((3, 3)):
            Rectangle(BOX001_W, BOX001_H)
    extrude(amount=BOX001_DEPTH)

    # Fillet003
    fillet003_edges = [roundedpost4.edges().sort_by_distance(p)[0] for p in [
        (70.7, 6, -9.5),
    ]]
    fillet(fillet003_edges, radius=FILLET003_R)


with BuildPart() as top_plate_complete_decorated:
    # Sketch → Extrude (new body)
    with BuildSketch(Plane.XY):
        with Locations((38.35, 37.75)):
            Rectangle(SKETCH_W, SKETCH_H)
        with Locations((59.7, 22.3)):
            Circle(SKETCH_R, mode=Mode.SUBTRACT)
        with Locations((21.7, 22.3)):
            Circle(SKETCH_R, mode=Mode.SUBTRACT)
    extrude(amount=EXTRUDE_DEPTH)

    # Fusion: union roundedpost1, roundedpost2, roundedpost3, roundedpost4
    add(roundedpost1.part)
    add(roundedpost2.part)
    add(roundedpost3.part)
    add(roundedpost4.part)

    # Fillet004
    fillet004_edges = [top_plate_complete_decorated.edges().sort_by_distance(p)[0] for p in [
        (6, 1.5, 0),
        (5.12132, 5.12132, 0),
        (1.5, 6, 0),
        (1.5, 54.5, 0),
        (5.12132, 55.37868, 0),
        (6, 59, 0),
        (70.7, 59, 0),
        (71.57868, 55.37868, 0),
        (75.2, 54.5, 0),
        (75.2, 6, 0),
        (71.57868, 5.12132, 0),
        (70.7, 1.5, 0),
    ]]
    fillet(fillet004_edges, radius=FILLET004_R)

    # Cut: cut threaded-cutout003
    add(threaded_cutout003.part, mode=Mode.SUBTRACT)

    # Cut001: cut threaded-cutout002
    add(threaded_cutout002.part, mode=Mode.SUBTRACT)

    # Cut002: cut threaded-cutout001
    add(threaded_cutout001.part, mode=Mode.SUBTRACT)

    # Cut003: cut threaded-cutout
    add(threaded_cutout.part, mode=Mode.SUBTRACT)

    # Cut008: cut decorator-cutout
    add(decorator_cutout_1.part, mode=Mode.SUBTRACT)


solid = Compound([bottom_plate_complete.part, top_plate_complete_decorated.part])
